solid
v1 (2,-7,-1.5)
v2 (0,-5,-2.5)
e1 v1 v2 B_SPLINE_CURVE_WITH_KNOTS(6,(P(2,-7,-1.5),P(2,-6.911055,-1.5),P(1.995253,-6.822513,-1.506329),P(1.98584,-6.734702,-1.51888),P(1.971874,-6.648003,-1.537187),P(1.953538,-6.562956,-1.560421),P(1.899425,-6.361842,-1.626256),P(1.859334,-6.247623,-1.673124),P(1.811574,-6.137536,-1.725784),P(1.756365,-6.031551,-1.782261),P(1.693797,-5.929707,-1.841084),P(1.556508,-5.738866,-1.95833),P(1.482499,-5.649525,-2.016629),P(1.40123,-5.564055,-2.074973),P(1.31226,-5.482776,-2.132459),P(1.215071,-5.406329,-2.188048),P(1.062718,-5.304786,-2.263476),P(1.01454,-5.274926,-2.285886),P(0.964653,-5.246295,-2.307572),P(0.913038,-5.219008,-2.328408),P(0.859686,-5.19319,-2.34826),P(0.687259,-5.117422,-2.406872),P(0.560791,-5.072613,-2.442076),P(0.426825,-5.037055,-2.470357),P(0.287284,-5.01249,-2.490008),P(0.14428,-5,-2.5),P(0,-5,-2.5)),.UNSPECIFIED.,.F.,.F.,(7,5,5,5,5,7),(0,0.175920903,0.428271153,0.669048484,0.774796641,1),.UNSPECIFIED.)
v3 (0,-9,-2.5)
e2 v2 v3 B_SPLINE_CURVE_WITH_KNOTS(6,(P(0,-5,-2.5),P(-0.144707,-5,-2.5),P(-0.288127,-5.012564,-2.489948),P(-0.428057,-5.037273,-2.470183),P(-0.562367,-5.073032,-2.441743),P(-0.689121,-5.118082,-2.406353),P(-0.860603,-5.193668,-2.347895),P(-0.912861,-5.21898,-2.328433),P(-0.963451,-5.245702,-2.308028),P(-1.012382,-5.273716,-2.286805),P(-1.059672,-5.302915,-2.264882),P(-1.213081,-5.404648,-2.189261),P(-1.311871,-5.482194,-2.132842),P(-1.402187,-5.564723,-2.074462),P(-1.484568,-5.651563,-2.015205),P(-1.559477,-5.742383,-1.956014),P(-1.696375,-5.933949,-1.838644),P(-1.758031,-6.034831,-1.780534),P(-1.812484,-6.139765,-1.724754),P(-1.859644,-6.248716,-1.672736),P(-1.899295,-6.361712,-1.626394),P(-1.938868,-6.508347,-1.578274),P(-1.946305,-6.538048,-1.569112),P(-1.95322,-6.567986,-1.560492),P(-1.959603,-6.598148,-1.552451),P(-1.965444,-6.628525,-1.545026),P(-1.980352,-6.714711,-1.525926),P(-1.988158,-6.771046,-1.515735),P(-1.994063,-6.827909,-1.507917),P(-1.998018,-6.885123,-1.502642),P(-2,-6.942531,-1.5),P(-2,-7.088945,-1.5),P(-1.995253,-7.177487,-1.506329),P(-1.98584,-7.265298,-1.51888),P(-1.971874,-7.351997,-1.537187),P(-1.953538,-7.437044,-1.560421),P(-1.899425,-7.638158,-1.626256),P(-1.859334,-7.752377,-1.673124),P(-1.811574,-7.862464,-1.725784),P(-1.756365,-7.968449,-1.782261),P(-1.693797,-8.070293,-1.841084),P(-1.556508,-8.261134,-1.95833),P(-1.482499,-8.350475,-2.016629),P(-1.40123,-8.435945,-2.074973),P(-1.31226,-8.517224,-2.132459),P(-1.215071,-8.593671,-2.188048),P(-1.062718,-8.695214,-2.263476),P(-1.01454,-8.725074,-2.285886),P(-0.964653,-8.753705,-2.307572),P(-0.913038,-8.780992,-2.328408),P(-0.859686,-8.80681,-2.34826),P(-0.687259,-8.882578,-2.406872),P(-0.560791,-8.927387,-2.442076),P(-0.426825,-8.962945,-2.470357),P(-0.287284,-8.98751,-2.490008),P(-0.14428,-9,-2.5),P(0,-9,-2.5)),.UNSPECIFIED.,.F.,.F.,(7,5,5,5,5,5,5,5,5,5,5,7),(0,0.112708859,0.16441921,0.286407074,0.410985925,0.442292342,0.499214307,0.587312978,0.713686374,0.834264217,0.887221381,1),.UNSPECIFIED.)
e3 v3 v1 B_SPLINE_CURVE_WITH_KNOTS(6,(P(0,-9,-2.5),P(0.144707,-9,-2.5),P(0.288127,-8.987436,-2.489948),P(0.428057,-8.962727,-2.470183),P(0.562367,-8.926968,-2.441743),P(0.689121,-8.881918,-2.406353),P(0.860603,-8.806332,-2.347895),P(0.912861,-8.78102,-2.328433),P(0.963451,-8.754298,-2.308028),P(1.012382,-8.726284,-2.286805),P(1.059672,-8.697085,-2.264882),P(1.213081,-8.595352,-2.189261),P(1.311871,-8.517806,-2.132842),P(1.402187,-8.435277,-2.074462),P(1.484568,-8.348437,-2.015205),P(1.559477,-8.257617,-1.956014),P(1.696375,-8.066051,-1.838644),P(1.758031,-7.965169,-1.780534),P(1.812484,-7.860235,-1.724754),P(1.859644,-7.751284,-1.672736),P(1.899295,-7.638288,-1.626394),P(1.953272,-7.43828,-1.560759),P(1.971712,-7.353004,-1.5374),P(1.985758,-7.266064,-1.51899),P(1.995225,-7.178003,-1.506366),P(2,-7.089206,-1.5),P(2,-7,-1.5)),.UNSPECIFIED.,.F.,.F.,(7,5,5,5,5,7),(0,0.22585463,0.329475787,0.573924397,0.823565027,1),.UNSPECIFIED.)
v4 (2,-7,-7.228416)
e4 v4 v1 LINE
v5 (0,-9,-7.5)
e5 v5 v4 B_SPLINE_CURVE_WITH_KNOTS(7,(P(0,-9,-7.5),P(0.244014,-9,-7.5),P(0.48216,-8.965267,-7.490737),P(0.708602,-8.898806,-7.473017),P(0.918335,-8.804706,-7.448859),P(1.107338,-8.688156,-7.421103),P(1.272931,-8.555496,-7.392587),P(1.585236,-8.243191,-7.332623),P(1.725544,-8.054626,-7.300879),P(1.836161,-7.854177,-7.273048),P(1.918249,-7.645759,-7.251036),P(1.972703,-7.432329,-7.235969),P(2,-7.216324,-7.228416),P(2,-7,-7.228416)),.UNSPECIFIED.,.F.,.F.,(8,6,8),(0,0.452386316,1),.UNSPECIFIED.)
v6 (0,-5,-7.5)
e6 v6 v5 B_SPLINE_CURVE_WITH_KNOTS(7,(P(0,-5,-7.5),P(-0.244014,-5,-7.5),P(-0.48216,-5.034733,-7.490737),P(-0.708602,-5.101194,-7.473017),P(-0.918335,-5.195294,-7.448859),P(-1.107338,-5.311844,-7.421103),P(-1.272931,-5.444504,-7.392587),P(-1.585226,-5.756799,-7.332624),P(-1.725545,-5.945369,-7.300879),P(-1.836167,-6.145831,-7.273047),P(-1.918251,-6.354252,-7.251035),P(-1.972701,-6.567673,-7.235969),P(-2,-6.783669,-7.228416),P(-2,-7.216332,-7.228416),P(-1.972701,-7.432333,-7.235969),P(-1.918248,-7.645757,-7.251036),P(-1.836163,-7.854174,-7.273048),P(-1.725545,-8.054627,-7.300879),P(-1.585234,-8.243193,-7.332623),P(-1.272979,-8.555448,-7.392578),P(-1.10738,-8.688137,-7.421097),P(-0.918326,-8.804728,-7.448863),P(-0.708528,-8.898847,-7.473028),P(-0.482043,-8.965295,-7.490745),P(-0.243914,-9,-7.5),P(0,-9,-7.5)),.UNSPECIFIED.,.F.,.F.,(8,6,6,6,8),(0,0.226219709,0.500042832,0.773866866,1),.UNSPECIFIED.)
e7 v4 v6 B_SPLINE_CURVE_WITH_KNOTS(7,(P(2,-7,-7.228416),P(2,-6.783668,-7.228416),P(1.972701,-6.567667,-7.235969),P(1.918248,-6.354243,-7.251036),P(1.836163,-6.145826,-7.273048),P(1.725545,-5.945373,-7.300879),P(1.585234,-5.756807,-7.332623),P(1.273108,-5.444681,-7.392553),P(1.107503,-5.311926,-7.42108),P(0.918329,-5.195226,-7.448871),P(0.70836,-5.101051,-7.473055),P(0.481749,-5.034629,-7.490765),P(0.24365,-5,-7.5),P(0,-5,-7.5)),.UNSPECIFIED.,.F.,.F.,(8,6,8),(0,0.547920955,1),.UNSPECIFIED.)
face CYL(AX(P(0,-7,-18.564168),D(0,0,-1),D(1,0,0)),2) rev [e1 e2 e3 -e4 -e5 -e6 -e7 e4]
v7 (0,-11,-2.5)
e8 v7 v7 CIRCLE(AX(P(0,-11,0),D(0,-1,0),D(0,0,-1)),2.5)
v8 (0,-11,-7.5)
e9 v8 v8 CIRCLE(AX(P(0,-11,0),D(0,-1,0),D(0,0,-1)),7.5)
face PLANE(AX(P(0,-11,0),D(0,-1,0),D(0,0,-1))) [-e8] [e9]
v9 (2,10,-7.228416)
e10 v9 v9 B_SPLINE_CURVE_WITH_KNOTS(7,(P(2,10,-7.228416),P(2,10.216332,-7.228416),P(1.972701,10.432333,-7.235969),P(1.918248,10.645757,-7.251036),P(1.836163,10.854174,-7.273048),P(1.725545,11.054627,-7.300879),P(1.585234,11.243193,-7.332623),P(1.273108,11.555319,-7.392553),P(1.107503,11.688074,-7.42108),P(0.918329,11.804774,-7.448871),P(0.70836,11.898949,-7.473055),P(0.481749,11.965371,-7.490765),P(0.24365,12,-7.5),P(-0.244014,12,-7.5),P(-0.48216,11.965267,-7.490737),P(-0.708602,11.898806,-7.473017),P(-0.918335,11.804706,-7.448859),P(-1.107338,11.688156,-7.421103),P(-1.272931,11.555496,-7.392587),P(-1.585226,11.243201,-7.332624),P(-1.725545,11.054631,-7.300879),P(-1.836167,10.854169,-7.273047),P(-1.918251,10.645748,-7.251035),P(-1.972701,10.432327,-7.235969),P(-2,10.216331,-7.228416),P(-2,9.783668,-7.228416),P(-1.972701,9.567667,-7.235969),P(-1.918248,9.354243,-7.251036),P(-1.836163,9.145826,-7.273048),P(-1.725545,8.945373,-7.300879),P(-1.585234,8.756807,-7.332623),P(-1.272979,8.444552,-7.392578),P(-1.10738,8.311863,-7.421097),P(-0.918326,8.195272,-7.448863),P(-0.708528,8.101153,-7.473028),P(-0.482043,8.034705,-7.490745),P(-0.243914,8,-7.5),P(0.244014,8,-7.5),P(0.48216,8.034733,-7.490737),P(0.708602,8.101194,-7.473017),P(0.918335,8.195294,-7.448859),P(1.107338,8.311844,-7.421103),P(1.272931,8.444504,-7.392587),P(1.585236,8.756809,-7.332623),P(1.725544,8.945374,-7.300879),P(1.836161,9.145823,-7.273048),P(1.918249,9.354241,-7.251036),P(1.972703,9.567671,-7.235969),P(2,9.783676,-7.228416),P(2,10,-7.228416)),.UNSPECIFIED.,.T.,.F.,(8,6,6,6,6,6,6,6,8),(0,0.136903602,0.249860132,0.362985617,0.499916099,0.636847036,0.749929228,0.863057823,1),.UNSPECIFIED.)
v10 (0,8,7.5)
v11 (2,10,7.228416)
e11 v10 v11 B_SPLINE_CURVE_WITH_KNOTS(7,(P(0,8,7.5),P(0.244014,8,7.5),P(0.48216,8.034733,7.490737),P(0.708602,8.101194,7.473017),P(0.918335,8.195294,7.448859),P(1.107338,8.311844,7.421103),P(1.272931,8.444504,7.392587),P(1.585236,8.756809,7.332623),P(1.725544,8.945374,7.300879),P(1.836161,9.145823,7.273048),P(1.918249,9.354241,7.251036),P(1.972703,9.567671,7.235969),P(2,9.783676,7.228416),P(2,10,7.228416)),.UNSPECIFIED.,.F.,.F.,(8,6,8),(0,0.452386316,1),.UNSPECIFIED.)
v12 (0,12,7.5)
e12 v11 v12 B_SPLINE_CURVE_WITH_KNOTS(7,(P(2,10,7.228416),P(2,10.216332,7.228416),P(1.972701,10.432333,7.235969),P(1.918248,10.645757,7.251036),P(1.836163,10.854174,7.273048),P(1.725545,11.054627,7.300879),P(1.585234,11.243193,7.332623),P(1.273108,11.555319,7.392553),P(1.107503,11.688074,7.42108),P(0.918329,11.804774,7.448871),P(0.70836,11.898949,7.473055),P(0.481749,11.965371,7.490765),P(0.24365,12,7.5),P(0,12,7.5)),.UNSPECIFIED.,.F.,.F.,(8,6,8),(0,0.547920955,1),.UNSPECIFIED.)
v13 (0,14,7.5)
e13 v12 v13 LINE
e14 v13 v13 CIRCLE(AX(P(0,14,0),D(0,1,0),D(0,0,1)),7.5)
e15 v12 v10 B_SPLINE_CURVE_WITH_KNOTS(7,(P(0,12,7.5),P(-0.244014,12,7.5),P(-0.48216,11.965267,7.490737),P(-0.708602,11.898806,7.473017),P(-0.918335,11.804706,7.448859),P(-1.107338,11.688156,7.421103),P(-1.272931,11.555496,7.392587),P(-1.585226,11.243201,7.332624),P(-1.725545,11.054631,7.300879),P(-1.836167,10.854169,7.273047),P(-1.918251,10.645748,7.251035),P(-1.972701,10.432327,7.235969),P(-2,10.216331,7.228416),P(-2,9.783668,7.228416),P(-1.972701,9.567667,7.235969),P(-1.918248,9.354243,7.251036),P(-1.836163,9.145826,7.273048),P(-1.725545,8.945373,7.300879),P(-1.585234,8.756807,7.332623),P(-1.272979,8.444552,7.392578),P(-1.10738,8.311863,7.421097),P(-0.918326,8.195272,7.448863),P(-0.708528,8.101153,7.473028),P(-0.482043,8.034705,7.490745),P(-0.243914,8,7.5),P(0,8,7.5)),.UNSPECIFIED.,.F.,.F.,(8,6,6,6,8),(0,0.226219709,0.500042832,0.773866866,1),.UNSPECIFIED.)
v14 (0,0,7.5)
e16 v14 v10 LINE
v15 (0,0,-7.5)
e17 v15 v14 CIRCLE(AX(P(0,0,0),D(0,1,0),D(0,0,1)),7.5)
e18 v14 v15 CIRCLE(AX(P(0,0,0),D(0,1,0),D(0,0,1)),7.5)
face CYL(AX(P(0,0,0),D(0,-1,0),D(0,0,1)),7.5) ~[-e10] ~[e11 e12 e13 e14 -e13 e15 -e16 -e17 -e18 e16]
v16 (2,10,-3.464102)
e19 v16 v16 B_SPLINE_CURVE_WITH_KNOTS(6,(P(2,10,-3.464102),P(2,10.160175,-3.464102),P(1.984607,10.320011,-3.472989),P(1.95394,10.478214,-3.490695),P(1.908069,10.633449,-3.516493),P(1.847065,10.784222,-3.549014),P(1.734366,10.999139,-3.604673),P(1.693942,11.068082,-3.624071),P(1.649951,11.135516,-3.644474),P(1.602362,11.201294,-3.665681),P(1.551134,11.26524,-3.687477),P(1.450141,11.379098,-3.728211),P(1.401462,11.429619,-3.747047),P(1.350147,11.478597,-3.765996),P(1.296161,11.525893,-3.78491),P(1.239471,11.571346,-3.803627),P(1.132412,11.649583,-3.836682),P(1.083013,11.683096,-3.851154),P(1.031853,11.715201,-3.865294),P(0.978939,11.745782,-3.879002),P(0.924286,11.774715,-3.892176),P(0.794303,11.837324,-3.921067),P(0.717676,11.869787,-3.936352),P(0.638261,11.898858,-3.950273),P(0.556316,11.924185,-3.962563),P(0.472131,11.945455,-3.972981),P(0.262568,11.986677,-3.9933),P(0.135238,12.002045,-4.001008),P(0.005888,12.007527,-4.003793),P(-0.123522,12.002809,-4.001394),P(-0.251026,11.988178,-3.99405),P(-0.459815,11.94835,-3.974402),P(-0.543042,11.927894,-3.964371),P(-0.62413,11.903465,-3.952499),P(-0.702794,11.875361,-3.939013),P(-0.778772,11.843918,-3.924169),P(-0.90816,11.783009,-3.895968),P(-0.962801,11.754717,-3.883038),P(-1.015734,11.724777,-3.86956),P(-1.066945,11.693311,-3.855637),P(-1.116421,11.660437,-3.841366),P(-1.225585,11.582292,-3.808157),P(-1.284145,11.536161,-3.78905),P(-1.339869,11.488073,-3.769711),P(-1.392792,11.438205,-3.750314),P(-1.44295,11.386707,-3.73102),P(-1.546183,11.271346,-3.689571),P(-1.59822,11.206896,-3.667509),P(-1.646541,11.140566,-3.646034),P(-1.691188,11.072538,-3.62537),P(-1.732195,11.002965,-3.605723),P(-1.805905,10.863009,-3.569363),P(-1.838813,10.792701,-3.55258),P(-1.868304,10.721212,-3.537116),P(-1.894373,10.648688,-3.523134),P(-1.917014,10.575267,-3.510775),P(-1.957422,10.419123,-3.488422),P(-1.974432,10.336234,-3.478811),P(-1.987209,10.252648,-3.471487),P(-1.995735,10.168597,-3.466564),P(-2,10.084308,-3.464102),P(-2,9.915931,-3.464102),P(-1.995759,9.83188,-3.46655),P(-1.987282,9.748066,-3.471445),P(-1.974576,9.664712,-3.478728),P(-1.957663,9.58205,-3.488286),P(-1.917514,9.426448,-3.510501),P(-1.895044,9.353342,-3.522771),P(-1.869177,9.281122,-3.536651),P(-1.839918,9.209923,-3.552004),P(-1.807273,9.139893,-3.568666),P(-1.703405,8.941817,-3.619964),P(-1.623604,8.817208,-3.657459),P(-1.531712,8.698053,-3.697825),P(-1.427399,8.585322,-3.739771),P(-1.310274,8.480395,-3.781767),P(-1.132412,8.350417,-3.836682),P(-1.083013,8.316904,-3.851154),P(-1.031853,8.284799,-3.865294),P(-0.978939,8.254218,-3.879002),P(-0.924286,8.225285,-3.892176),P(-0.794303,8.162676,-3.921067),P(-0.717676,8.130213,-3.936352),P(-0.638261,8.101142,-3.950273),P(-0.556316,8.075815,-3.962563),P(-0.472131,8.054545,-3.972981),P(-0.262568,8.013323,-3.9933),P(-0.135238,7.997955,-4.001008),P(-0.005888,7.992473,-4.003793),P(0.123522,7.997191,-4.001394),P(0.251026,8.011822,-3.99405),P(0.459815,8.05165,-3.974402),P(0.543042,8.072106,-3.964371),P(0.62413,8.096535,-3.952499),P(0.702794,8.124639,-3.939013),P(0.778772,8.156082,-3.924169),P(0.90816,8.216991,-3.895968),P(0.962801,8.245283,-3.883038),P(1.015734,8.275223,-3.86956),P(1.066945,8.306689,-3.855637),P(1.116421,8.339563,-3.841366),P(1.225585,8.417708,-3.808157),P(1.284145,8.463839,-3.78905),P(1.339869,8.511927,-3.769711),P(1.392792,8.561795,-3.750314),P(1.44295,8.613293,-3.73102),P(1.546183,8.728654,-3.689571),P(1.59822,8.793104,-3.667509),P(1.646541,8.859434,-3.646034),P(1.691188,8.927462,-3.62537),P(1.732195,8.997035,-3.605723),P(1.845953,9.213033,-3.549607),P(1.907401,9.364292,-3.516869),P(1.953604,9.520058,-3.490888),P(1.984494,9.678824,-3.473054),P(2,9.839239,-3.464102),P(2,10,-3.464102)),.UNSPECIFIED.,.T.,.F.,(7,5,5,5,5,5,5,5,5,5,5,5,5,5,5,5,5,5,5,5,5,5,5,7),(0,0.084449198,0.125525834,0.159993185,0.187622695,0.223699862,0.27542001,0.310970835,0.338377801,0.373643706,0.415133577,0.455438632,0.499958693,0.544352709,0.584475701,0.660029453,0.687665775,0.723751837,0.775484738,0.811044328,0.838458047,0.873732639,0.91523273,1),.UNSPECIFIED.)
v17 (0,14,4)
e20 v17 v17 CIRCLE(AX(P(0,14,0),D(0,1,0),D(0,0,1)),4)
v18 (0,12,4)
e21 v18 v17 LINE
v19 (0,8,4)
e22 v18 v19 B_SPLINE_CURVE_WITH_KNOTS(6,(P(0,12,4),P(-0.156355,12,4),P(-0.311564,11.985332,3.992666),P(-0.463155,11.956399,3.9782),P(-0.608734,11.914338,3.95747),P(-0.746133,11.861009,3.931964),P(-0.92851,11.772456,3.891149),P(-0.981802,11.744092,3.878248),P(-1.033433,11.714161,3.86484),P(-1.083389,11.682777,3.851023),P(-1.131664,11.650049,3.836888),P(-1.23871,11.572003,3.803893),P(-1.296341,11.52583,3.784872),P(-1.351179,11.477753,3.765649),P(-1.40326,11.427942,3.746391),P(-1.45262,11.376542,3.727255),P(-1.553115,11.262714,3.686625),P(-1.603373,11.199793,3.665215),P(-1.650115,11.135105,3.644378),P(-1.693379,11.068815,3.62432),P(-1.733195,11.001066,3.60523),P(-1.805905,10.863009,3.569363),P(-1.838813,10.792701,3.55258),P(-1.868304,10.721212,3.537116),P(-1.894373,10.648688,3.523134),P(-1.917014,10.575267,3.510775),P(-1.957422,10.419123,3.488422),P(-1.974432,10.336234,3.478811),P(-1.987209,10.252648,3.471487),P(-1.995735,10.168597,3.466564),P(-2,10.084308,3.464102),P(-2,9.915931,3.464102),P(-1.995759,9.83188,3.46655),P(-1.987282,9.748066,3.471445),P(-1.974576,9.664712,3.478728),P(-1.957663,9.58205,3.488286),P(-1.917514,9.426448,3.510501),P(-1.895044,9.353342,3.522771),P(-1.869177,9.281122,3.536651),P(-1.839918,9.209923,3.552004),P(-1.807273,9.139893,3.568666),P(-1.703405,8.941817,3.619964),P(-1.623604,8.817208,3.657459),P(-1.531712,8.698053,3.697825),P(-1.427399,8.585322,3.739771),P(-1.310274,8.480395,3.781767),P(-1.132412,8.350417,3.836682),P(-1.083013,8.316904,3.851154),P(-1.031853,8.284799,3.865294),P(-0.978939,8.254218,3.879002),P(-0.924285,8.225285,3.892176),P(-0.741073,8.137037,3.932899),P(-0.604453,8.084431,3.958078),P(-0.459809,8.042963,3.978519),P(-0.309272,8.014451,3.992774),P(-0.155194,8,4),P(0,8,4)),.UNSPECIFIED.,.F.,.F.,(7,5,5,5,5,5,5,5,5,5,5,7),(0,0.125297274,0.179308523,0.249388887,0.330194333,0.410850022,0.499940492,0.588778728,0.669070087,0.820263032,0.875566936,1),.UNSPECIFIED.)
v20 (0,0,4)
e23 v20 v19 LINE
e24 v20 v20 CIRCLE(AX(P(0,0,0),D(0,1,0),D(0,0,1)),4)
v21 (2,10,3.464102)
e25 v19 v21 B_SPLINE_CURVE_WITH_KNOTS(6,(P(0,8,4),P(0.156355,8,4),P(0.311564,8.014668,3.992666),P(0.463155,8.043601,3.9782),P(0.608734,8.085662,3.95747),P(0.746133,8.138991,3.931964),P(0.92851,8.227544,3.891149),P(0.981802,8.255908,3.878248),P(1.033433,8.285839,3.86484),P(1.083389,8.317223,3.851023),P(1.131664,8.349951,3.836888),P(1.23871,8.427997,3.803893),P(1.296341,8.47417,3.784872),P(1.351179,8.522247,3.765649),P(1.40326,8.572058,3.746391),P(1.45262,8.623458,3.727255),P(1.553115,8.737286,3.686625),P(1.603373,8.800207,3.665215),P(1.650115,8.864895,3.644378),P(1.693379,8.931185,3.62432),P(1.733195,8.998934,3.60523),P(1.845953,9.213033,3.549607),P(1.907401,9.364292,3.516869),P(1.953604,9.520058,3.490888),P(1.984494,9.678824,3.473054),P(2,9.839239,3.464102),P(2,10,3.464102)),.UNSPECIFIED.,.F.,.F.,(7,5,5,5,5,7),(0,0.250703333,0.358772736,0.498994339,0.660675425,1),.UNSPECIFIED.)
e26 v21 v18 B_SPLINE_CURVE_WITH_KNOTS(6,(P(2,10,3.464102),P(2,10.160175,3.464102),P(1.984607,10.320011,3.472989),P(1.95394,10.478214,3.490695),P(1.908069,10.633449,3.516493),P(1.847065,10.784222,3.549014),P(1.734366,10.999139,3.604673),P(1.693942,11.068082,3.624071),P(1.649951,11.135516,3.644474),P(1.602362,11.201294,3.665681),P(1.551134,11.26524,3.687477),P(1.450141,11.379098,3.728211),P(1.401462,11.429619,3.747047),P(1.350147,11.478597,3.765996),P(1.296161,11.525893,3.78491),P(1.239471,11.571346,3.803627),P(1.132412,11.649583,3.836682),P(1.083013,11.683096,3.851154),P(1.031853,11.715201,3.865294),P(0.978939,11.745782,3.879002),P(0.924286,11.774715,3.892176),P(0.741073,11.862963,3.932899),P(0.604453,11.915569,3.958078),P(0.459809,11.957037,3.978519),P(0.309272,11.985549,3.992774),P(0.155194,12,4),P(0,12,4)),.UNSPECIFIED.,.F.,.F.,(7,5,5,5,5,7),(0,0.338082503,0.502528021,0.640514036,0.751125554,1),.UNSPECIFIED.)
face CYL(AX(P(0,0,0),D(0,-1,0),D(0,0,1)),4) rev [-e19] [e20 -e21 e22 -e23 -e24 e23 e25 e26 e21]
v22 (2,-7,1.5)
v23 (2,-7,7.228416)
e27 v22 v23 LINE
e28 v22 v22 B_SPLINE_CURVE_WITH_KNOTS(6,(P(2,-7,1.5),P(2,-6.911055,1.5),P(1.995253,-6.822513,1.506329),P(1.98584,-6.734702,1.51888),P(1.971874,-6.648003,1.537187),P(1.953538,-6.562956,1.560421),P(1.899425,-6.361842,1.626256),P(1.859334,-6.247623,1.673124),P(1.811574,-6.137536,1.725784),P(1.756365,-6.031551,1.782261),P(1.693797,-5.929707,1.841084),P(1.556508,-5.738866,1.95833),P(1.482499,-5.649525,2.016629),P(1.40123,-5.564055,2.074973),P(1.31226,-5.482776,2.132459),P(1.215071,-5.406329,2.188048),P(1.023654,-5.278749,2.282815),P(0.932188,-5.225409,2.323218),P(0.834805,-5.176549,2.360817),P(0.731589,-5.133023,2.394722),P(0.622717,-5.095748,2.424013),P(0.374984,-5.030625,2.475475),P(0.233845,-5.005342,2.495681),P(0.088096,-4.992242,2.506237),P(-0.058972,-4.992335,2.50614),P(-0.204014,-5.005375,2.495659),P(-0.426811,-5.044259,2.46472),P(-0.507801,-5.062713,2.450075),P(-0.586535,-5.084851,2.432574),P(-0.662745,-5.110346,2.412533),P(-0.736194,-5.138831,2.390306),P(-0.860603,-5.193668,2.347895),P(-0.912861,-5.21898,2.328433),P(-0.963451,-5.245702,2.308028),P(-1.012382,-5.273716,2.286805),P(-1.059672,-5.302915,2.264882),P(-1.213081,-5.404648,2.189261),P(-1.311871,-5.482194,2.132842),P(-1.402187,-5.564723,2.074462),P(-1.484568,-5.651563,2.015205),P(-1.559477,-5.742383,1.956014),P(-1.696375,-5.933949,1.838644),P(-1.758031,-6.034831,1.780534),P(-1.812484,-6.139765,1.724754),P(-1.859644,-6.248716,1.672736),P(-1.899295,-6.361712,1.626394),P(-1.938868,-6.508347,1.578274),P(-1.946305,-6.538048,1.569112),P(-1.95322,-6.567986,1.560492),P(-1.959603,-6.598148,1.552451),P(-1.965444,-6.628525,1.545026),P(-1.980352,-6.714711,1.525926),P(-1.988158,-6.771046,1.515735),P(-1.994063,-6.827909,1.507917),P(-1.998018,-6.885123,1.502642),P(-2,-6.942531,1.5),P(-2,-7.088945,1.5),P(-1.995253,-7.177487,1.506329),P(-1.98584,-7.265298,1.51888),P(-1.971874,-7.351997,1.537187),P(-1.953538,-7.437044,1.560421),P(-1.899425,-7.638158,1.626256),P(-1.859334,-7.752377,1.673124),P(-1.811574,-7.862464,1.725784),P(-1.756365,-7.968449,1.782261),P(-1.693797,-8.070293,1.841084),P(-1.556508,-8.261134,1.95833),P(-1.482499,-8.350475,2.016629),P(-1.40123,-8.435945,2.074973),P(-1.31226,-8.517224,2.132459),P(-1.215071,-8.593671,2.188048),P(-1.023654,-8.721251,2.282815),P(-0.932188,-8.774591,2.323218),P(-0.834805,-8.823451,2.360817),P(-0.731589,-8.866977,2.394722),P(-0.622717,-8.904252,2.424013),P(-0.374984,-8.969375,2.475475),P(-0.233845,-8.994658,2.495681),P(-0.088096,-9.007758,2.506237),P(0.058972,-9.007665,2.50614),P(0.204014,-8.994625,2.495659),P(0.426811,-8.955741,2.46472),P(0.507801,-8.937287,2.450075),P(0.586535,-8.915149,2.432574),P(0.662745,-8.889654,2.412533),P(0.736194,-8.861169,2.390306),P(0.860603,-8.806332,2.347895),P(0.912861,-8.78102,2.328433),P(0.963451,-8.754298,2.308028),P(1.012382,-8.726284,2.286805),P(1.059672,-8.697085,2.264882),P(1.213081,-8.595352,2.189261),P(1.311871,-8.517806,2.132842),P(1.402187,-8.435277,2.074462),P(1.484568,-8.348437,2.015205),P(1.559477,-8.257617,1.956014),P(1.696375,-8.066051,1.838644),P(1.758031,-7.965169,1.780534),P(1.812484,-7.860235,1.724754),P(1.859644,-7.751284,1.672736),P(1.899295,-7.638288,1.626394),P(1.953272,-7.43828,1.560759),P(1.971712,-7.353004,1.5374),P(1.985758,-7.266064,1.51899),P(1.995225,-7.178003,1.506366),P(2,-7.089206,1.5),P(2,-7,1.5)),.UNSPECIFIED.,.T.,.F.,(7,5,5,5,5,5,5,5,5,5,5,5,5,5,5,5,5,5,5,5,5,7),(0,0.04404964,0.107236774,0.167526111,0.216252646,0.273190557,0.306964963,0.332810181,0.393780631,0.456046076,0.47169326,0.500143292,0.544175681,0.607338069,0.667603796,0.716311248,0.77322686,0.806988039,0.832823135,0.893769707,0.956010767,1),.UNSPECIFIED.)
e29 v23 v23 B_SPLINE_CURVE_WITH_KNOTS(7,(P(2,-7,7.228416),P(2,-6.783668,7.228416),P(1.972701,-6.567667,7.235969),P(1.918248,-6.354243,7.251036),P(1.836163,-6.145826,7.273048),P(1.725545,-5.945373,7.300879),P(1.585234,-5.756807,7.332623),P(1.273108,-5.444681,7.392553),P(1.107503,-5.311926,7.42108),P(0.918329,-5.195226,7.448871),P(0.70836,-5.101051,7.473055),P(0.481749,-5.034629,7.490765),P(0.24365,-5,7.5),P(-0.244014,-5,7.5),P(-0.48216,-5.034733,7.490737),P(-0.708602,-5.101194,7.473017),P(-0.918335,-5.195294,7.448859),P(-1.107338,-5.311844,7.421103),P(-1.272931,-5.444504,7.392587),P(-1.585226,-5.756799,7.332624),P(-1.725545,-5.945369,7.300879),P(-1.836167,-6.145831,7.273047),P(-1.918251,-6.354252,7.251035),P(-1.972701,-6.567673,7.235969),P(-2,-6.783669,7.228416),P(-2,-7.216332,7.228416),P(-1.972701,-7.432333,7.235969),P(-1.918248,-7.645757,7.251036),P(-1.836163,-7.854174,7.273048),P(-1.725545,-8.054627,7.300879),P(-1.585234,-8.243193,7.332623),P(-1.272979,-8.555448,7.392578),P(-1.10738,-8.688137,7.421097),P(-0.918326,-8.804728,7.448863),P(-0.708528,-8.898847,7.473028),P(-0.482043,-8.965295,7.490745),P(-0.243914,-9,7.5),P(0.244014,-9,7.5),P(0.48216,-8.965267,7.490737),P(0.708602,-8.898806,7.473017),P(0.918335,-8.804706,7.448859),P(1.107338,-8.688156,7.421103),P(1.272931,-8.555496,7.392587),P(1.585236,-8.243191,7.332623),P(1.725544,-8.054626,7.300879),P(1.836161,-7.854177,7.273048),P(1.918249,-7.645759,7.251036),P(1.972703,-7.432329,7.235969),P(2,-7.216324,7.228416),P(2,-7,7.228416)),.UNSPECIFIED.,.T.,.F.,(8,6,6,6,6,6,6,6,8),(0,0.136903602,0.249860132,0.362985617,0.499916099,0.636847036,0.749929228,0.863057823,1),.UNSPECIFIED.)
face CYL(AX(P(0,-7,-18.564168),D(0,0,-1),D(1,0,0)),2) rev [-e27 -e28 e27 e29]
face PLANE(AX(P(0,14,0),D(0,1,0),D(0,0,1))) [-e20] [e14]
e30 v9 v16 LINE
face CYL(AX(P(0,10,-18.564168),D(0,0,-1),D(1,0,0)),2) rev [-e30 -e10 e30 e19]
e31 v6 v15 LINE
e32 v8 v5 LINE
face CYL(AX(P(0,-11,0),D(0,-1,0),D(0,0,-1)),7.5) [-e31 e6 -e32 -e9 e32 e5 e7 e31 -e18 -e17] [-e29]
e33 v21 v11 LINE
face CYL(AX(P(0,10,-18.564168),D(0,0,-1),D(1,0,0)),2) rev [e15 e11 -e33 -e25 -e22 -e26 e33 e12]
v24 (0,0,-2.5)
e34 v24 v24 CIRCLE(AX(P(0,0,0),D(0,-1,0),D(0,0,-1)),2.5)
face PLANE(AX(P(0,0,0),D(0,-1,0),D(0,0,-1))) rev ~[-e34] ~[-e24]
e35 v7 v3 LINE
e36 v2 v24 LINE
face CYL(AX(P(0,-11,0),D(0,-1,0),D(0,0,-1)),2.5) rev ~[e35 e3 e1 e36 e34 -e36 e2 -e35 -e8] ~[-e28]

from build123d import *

# Parameters (mm, degrees)
SKETCH1_R               = 7.5
SKETCH1_R_2             = 4
BOSS_EXTRUDE1_DEPTH     = 14
BOSS_EXTRUDE2_START     = 11
SKETCH2_R               = 7.5
SKETCH2_R_2             = 2.5
BOSS_EXTRUDE2_DEPTH     = 11
CUT_EXTRUDE1_DEPTH      = 18.56416807
CUT_EXTRUDE1_DEPTH_BACK = 18.56416807
SKETCH3_R               = 2


with BuildPart() as part:
    # Sketch1 → Boss-Extrude1 (new body)
    with BuildSketch(Plane(origin=(0, 0, 0), x_dir=(1, 0, 0), z_dir=(0, 1, 0))):
        with Locations(Location((0, 0, 0), (0, 0, 270))):
            Circle(SKETCH1_R)
        with Locations(Location((0, 0, 0), (0, 0, 270))):
            Circle(SKETCH1_R_2, mode=Mode.SUBTRACT)
    extrude(amount=BOSS_EXTRUDE1_DEPTH)

    # Sketch2 → Boss-Extrude2 (add)
    with BuildSketch(Plane.XZ.offset(BOSS_EXTRUDE2_START)):
        with Locations(Location((0, 0, 0), (0, 0, 270))):
            Circle(SKETCH2_R)
        with Locations(Location((0, 0, 0), (0, 0, 270))):
            Circle(SKETCH2_R_2, mode=Mode.SUBTRACT)
    extrude(amount=-BOSS_EXTRUDE2_DEPTH)

    # Sketch3 → Cut-Extrude1 (cut, two sides: drawn at the far end of the back side and taken through both)
    with BuildSketch(Plane.XY.offset(-CUT_EXTRUDE1_DEPTH_BACK)):
        with Locations((0, 10)):
            Circle(SKETCH3_R)
        with Locations((0, -7)):
            Circle(SKETCH3_R)
    extrude(amount=CUT_EXTRUDE1_DEPTH + CUT_EXTRUDE1_DEPTH_BACK, mode=Mode.SUBTRACT)


solid = part.part
